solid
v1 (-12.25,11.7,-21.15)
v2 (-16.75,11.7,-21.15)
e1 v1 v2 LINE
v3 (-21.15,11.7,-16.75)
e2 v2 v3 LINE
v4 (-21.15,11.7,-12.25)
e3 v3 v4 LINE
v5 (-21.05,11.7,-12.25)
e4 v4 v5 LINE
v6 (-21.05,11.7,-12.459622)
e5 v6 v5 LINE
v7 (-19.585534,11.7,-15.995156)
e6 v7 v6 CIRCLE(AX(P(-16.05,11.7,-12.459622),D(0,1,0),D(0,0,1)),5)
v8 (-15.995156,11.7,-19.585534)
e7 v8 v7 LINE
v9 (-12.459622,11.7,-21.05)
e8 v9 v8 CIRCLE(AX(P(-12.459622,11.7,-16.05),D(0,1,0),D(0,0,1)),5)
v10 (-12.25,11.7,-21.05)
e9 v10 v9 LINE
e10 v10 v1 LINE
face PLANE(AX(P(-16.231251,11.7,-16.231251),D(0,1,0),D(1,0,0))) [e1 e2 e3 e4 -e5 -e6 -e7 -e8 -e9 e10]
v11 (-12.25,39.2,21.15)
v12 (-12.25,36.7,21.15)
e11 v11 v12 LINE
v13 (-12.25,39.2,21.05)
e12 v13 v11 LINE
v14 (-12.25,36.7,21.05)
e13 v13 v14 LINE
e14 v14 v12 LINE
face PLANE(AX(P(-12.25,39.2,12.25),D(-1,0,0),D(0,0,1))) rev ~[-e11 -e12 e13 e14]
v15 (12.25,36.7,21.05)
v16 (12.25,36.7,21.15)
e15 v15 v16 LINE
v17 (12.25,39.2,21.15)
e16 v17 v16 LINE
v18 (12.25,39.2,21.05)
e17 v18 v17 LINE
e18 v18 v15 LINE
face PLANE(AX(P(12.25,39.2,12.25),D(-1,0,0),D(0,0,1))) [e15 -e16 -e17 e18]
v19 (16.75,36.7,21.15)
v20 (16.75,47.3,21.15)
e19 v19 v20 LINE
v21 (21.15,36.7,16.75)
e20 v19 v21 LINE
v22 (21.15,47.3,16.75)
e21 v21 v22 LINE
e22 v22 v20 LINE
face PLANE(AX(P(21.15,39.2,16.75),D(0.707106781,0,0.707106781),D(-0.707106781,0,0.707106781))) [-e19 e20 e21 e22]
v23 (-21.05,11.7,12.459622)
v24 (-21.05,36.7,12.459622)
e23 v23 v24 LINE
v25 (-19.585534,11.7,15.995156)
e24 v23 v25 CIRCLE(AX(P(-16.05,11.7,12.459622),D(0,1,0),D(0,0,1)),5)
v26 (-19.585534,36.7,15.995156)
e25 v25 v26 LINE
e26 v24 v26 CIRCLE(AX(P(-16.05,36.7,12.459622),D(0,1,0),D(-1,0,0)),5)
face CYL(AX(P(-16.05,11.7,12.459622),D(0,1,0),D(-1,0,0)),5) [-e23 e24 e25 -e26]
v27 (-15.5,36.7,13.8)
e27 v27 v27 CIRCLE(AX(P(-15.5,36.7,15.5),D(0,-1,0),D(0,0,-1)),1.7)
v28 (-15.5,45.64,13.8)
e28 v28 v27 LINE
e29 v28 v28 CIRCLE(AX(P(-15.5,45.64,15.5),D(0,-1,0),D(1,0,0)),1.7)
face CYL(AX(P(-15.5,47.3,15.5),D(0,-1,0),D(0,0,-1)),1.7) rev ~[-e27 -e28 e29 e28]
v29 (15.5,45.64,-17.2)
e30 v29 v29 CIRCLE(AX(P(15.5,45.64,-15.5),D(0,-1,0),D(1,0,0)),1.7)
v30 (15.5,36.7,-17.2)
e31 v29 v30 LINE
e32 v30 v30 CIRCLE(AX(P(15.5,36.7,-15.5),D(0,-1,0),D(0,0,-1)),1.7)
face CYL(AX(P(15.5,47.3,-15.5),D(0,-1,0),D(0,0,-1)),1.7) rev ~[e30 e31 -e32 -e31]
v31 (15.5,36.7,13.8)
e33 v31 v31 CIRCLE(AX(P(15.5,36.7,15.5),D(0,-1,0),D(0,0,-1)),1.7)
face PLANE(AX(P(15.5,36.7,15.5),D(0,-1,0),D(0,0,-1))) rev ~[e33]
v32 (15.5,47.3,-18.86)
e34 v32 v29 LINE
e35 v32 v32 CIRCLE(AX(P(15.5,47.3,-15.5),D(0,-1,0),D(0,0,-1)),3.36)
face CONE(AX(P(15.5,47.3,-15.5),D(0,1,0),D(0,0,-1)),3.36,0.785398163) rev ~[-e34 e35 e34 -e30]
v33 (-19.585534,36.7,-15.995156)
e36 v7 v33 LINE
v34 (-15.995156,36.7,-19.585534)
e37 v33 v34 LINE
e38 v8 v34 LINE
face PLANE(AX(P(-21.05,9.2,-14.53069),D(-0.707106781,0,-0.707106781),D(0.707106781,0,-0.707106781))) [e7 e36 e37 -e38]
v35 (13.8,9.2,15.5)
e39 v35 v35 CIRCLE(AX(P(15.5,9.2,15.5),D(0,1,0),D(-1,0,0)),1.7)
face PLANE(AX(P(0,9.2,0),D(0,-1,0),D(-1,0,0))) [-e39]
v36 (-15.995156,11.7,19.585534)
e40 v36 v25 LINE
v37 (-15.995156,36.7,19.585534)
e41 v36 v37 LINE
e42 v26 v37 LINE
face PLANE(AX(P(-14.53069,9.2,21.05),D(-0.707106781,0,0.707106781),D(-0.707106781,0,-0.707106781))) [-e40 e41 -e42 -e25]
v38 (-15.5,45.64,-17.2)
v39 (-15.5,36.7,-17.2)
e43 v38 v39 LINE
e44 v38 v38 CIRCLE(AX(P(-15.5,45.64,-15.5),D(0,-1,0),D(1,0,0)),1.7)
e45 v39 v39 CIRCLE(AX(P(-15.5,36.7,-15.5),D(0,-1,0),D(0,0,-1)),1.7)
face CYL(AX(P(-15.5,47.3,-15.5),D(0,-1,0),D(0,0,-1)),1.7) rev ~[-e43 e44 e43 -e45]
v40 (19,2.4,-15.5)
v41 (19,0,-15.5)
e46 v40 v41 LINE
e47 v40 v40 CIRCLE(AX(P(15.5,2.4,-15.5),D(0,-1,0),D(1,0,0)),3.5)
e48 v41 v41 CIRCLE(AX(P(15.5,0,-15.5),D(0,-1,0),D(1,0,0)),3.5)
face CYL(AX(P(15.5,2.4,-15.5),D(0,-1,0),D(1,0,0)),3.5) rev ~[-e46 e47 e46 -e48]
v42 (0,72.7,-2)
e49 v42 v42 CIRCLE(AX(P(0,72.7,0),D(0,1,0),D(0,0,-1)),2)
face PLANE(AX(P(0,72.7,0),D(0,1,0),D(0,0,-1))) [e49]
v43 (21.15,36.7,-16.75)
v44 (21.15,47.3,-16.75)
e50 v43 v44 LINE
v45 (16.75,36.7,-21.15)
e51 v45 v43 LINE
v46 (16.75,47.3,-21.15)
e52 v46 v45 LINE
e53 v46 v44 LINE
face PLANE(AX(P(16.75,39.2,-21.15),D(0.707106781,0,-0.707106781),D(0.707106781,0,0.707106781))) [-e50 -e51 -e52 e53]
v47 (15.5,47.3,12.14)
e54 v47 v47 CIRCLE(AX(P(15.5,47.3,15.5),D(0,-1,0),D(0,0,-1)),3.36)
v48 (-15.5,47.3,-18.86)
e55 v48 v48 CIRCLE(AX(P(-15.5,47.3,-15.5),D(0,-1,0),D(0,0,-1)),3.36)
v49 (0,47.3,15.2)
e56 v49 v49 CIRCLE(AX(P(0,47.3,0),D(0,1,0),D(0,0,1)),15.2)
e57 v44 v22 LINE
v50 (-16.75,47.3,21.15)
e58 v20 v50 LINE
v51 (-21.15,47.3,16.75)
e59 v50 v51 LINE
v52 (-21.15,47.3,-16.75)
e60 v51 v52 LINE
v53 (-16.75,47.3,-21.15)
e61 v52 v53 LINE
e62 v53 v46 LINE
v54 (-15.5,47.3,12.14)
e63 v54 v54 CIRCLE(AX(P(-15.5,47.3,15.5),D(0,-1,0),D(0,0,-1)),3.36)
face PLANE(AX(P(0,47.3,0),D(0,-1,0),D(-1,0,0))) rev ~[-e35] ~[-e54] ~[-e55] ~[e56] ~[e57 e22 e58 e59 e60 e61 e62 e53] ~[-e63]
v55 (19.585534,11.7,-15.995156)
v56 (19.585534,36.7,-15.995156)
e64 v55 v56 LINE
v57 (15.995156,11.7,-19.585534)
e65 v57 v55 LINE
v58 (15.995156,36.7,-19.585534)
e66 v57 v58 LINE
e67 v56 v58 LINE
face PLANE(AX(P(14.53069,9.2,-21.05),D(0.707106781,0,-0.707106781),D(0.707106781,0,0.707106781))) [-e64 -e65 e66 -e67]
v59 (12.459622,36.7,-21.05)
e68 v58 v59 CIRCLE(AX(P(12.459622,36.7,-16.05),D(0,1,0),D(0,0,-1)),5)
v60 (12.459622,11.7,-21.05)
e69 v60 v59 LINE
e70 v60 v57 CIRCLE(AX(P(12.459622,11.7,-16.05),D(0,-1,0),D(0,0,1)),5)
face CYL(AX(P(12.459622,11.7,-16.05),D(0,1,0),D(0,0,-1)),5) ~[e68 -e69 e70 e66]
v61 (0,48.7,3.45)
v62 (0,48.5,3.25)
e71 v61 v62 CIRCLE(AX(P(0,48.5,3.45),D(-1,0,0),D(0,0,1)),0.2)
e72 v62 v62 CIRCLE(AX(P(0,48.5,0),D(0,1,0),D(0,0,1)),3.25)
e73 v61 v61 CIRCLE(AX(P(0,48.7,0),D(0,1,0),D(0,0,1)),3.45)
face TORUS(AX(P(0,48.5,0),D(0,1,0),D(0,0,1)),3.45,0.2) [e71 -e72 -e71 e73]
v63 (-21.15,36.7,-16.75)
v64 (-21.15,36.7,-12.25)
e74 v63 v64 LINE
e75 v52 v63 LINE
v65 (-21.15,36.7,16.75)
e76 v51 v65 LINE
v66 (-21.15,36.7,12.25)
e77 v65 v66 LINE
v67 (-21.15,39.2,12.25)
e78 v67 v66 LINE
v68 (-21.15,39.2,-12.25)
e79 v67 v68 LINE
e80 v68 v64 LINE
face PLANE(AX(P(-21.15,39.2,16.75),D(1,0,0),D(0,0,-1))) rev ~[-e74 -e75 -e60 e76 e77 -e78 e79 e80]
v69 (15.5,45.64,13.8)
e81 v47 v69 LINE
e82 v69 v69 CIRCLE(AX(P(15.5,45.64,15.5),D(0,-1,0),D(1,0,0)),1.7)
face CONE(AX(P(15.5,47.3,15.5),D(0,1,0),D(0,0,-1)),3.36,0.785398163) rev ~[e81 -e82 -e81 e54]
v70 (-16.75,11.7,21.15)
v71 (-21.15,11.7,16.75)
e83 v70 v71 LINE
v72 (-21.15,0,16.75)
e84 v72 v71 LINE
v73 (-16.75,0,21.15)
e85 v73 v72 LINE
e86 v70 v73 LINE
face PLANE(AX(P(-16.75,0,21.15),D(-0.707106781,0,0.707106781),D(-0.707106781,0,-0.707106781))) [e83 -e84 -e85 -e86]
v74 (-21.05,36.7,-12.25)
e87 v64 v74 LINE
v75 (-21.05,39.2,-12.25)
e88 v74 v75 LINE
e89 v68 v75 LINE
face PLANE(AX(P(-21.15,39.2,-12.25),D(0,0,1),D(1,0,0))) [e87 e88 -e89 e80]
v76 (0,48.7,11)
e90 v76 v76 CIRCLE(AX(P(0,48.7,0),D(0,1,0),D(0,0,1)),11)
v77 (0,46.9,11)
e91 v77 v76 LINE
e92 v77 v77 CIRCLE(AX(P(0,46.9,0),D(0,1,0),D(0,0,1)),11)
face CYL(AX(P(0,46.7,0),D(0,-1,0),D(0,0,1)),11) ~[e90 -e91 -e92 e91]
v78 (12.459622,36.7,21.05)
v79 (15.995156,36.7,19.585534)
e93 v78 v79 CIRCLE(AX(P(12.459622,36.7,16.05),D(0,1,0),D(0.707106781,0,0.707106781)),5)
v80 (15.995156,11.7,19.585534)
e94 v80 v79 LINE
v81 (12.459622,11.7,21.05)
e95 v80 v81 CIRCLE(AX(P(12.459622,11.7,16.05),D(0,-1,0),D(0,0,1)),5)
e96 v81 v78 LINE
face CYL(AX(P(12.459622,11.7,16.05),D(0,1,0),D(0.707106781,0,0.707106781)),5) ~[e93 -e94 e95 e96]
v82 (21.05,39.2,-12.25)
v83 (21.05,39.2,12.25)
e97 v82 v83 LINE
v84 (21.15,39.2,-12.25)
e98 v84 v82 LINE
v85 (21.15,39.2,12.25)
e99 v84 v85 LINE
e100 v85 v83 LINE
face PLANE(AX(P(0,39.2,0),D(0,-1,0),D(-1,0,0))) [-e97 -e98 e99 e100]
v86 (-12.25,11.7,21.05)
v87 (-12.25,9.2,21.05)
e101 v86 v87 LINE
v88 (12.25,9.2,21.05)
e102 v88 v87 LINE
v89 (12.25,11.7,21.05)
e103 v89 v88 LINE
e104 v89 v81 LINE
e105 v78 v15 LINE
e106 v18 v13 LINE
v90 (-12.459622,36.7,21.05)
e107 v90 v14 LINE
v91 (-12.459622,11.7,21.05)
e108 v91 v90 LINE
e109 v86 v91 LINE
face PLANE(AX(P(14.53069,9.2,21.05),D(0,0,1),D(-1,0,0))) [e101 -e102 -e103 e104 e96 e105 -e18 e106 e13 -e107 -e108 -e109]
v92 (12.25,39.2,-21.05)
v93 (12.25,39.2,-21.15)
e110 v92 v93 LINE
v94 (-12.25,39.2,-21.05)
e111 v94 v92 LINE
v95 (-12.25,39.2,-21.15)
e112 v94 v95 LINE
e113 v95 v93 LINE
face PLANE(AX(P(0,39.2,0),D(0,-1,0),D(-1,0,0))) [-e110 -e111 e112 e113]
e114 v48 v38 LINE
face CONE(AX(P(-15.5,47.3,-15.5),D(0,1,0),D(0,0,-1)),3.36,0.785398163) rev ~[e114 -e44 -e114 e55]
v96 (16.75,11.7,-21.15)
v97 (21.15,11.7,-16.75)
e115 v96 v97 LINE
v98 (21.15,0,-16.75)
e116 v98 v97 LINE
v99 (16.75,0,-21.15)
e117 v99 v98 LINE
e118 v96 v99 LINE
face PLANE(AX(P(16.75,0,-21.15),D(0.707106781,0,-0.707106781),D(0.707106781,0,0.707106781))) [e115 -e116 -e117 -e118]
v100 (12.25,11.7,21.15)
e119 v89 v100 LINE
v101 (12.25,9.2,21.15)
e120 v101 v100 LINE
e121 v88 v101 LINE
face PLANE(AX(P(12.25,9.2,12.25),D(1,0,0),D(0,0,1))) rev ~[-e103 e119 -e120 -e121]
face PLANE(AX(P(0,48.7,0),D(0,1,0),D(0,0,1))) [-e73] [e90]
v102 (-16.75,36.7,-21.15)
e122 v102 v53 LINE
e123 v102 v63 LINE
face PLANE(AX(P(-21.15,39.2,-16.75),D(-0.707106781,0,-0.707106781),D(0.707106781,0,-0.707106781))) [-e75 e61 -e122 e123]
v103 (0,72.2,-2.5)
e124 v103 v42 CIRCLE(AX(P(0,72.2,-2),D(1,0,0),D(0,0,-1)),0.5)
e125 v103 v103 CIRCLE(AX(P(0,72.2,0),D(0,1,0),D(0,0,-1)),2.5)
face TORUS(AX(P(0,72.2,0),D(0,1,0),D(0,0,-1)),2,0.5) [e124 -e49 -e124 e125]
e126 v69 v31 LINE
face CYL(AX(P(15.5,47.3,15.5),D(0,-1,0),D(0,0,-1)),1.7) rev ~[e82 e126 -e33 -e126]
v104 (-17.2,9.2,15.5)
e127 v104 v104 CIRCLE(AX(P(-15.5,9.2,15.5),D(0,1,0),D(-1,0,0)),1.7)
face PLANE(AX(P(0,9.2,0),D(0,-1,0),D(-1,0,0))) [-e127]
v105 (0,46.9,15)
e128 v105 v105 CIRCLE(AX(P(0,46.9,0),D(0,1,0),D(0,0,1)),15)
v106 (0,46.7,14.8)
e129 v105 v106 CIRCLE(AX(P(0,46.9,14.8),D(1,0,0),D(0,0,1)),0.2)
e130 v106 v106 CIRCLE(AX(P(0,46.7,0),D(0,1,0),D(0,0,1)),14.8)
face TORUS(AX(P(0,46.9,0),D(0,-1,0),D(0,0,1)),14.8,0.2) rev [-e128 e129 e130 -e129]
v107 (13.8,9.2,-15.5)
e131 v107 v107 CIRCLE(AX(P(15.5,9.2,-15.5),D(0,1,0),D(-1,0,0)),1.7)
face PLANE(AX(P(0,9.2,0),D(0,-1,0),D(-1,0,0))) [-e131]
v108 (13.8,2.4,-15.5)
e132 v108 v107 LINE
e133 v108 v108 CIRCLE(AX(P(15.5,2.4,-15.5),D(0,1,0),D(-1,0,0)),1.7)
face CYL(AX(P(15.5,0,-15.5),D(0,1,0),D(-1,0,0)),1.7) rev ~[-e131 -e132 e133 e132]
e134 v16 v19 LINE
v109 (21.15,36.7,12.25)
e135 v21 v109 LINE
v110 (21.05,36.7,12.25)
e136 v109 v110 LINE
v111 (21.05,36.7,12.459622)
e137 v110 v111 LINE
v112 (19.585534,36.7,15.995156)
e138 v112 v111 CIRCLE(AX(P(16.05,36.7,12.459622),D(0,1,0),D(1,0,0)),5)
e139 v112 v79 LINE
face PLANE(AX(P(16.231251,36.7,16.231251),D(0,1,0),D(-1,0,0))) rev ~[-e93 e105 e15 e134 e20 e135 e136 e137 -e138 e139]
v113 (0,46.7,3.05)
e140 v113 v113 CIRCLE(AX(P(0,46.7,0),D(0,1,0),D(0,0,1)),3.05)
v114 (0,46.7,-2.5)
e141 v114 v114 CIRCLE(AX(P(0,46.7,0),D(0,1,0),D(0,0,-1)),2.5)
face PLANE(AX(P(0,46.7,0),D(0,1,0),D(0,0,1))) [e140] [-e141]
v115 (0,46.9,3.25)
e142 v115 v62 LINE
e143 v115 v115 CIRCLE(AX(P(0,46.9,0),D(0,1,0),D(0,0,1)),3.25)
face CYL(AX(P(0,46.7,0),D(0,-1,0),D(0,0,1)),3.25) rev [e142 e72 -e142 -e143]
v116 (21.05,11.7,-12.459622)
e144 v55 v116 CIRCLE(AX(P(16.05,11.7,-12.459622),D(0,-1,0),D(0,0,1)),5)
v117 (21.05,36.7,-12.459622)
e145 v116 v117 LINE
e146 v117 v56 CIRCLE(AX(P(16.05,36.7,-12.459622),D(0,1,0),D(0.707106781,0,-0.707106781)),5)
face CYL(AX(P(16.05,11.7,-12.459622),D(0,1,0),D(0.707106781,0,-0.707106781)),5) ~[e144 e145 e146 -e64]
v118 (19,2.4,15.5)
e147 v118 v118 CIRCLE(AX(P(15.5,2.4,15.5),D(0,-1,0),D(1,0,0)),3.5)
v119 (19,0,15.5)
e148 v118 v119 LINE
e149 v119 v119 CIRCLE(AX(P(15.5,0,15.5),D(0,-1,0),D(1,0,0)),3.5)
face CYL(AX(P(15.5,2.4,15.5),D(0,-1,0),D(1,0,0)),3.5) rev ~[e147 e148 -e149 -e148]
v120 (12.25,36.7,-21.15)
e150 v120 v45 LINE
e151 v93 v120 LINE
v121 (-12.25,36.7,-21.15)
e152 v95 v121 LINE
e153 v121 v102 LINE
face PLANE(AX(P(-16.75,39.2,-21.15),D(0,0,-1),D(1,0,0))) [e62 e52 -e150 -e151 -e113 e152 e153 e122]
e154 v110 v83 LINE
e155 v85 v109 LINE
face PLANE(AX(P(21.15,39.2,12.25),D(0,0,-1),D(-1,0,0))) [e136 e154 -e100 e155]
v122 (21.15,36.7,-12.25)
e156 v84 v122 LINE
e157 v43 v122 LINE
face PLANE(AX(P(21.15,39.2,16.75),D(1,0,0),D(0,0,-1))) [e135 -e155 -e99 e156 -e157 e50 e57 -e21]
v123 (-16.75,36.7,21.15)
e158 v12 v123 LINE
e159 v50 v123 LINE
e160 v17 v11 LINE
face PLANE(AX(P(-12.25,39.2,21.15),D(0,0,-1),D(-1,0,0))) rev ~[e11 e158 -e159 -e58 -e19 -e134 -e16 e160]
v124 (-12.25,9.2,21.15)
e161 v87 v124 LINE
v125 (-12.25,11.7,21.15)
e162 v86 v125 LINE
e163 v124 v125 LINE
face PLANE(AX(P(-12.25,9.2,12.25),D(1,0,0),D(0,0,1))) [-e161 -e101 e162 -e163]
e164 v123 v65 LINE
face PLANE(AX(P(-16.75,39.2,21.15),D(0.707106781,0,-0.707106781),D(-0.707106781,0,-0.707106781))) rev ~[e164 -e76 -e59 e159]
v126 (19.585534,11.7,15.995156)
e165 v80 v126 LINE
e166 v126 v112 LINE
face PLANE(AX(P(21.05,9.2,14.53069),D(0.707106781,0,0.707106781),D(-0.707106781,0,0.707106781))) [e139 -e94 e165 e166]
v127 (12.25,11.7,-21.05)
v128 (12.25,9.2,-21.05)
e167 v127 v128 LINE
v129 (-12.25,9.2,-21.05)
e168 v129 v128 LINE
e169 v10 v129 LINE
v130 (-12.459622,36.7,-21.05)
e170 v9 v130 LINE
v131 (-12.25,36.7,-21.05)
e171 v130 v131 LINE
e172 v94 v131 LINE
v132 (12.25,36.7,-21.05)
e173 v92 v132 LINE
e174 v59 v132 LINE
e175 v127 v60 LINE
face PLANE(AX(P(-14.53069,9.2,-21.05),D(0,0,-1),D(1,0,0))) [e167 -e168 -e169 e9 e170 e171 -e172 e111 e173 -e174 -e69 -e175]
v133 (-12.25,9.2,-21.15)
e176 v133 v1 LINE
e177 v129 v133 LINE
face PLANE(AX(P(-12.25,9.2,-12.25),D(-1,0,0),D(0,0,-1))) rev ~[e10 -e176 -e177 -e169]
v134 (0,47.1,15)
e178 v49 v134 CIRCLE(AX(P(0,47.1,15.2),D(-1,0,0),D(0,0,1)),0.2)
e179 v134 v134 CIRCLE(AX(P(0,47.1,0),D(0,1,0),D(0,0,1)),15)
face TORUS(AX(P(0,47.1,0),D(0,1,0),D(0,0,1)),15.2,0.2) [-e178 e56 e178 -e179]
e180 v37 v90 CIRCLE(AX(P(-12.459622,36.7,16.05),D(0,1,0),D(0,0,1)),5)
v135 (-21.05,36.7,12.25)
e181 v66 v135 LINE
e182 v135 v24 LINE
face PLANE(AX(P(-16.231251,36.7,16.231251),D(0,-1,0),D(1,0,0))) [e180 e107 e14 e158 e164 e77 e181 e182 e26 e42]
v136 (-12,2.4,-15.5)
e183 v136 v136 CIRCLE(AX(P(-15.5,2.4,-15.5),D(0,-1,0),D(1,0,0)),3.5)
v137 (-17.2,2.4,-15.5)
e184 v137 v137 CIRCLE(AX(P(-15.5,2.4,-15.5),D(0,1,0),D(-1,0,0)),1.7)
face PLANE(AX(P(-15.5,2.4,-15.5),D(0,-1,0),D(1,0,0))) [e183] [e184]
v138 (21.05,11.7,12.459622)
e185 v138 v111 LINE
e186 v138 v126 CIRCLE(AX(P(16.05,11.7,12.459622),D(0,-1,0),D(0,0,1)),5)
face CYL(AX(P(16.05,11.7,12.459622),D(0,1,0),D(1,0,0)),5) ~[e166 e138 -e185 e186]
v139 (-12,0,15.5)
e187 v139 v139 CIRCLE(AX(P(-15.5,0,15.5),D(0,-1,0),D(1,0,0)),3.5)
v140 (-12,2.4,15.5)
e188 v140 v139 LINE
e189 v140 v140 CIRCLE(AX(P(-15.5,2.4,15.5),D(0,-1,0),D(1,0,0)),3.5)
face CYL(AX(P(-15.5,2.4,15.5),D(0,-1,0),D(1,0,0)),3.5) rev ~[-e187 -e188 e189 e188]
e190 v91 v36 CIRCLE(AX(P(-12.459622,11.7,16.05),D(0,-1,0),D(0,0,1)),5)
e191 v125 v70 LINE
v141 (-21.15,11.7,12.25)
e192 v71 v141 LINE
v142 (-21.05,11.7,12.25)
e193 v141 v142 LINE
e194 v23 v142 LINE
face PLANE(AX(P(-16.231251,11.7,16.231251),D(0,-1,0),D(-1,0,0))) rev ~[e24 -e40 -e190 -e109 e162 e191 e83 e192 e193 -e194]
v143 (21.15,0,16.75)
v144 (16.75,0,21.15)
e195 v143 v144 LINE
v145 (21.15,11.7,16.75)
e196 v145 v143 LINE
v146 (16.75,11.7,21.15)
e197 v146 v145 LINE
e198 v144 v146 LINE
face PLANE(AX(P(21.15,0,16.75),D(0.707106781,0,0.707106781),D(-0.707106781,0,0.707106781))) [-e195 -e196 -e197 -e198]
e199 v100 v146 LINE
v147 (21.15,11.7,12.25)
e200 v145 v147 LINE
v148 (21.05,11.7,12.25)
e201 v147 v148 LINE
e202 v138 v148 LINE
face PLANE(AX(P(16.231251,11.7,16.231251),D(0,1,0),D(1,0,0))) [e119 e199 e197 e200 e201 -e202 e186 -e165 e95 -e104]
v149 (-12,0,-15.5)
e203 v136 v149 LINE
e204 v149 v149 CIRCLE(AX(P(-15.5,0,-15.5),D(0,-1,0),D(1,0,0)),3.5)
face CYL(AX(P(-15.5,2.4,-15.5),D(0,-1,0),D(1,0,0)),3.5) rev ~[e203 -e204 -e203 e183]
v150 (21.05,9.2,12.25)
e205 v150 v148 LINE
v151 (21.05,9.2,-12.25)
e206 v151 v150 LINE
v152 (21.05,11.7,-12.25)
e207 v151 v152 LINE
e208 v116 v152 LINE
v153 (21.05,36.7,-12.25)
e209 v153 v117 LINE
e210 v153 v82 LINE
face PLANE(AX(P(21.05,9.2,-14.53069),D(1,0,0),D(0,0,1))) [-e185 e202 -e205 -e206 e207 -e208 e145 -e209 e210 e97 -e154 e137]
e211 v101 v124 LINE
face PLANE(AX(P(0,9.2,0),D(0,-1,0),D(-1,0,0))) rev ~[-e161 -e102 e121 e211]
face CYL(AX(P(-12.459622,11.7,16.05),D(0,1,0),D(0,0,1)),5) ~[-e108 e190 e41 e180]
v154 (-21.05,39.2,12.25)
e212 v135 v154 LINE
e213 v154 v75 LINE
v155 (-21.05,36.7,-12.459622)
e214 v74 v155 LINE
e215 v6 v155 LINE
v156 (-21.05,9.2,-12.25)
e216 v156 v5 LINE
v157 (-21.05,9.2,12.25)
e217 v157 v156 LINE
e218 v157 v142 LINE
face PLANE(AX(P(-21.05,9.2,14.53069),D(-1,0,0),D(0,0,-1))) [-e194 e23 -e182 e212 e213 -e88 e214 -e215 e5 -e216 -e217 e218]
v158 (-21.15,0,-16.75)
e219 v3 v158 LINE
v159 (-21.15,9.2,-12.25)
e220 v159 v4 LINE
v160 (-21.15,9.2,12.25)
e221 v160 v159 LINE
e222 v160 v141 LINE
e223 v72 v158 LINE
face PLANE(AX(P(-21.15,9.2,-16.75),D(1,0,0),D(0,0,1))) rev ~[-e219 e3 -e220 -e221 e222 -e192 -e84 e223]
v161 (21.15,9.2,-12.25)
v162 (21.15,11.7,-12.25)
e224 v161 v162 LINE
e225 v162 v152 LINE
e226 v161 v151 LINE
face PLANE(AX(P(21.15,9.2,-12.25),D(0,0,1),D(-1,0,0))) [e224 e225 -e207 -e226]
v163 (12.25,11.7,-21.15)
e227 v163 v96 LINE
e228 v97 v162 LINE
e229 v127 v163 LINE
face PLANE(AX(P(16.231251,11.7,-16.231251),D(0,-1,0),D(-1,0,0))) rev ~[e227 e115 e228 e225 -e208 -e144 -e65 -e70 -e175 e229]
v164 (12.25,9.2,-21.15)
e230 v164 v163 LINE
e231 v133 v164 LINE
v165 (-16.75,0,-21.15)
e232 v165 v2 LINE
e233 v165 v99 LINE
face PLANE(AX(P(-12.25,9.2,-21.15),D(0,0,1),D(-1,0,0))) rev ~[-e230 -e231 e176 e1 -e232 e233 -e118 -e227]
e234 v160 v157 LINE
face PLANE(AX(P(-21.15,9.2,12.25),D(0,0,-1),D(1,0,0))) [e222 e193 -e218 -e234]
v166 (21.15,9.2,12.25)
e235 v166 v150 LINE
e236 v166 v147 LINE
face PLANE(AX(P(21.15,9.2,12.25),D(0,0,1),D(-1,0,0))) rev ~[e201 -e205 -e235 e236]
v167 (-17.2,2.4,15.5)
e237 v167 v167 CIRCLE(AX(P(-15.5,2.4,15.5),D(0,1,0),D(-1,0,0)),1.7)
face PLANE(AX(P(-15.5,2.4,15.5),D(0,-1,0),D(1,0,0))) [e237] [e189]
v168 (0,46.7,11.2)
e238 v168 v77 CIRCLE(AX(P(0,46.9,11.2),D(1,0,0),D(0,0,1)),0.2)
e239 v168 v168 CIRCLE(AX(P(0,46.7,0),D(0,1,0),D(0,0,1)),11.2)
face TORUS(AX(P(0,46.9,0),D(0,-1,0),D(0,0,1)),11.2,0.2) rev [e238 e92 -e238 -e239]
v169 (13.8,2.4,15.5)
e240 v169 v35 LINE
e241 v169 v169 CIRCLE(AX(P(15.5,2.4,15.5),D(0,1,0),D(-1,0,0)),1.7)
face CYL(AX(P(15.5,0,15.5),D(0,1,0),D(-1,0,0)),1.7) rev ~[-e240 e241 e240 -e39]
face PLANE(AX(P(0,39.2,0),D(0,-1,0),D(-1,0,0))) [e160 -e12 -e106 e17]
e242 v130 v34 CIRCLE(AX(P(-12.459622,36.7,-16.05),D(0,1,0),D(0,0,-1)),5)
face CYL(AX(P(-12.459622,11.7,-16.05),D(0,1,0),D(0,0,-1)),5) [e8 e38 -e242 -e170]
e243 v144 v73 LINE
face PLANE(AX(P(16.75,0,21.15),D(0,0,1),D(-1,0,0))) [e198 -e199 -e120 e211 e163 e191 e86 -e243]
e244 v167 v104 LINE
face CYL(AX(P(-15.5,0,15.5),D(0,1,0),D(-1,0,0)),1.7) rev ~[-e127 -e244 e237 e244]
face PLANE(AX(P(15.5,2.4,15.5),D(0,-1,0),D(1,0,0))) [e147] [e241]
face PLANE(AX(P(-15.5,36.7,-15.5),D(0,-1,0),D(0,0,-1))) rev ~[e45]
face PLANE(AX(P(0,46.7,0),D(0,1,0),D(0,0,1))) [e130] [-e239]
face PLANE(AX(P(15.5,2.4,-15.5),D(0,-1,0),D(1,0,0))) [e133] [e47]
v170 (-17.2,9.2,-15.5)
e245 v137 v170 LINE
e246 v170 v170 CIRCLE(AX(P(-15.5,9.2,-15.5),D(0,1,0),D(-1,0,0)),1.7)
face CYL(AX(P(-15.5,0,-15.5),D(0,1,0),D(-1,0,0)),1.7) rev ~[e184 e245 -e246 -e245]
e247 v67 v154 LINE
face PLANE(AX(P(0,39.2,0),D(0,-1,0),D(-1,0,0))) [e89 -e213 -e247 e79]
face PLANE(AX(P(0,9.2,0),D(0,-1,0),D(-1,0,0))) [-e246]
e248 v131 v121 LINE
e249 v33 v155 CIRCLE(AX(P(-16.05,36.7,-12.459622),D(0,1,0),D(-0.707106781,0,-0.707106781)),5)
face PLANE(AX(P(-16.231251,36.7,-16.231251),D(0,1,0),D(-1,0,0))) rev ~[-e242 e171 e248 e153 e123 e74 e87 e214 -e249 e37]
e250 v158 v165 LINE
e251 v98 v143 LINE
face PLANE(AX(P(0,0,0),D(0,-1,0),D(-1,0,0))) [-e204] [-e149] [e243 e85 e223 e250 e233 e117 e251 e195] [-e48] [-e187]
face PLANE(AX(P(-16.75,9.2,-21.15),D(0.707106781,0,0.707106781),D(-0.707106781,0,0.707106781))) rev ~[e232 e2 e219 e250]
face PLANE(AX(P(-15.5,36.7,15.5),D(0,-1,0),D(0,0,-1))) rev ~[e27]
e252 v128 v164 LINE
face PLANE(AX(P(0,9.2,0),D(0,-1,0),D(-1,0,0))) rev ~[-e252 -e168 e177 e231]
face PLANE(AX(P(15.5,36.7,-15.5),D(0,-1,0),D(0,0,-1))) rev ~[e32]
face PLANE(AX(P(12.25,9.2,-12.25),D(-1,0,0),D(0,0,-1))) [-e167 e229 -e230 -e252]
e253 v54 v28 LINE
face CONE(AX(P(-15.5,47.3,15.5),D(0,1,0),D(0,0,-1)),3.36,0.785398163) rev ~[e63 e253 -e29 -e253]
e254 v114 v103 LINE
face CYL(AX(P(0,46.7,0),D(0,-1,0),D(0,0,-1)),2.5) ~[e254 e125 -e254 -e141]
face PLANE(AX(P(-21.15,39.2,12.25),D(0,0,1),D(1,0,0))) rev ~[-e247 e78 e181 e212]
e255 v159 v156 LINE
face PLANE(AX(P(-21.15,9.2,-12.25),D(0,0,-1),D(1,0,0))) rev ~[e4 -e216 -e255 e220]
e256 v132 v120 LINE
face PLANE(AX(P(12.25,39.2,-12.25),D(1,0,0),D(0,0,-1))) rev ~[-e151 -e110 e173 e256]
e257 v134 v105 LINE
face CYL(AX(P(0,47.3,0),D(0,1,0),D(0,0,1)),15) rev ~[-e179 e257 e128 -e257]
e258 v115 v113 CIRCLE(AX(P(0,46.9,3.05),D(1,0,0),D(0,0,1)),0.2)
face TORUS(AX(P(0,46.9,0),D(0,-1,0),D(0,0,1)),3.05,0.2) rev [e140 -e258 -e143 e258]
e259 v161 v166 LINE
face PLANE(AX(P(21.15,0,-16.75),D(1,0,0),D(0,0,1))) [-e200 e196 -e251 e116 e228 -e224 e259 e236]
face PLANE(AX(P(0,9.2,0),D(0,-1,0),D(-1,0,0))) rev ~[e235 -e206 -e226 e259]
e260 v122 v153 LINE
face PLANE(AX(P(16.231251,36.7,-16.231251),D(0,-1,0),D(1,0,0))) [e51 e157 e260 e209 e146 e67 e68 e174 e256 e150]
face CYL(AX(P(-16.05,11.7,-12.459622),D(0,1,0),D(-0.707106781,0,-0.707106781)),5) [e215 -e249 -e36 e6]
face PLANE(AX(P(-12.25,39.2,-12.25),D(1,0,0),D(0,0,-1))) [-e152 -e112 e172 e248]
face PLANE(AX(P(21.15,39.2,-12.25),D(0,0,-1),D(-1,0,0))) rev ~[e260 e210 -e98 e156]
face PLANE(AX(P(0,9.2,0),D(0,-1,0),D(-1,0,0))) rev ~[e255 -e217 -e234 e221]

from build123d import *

# Parameters (mm, degrees)
SALIENTE_EXTRUIR1_DEPTH                              = 9.2
SALIENTE_EXTRUIR2_DEPTH                              = 2.5
REFRENTADO_PARA_TORNILLO_CON_CABEZA_TRON_D           = 3.4
REFRENTADO_PARA_TORNILLO_CON_CABEZA_TRON_CBORE_D     = 7
REFRENTADO_PARA_TORNILLO_CON_CABEZA_TRON_CBORE_DEPTH = 2.4
SALIENTE_EXTRUIR3_DEPTH                              = 30
REDONDEO1_R                                          = 5
SALIENTE_EXTRUIR4_DEPTH                              = 8.1
SALIENTE_EXTRUIR5_DEPTH                              = 2.5
REFRENTADO_PARA_TORNILLO_TAP_N_CON_CABEZ_D           = 3.4
REFRENTADO_PARA_TORNILLO_TAP_N_CON_CABEZ_DEPTH       = 10.6
REFRENTADO_PARA_TORNILLO_TAP_N_CON_CABEZ_CSINK_D     = 6.72
REFRENTADO_PARA_TORNILLO_TAP_N_CON_CABEZ_CSINK_ANGLE = 90
CROQUIS14_R                                          = 15
CORTAR_EXTRUIR1_DEPTH                                = 0.6
CROQUIS15_R                                          = 11
CROQUIS15_R_2                                        = 3.25
SALIENTE_EXTRUIR6_DEPTH                              = 2
REDONDEO2_R                                          = 0.2
CROQUIS16_R                                          = 2.5
SALIENTE_EXTRUIR7_DEPTH                              = 26
REDONDEO3_R                                          = 0.5


with BuildPart() as part:
    # Croquis1 → Saliente-Extruir1 (new body)
    with BuildSketch(Plane(origin=(0, 0, 0), x_dir=(1, 0, 0), z_dir=(0, 1, 0))):
        Polygon((-16.75, 21.15), (16.75, 21.15), (21.15, 16.75), (21.15, -16.75), (16.75, -21.15), (-16.75, -21.15), (-21.15, -16.75), (-21.15, 16.75), align=None)
    extrude(amount=SALIENTE_EXTRUIR1_DEPTH)

    # Croquis2 → Saliente-Extruir2 (add)
    with BuildSketch(Plane(origin=(0, 9.2, 0), x_dir=(1, 0, 0), z_dir=(0, 1, 0))):
        Polygon((-12.25, 12.25), (-12.25, 21.15), (-16.75, 21.15), (-21.15, 16.75), (-21.15, 12.25), align=None)
        Polygon((12.25, 21.15), (16.75, 21.15), (21.15, 16.75), (21.15, 12.25), (12.25, 12.25), align=None)
        Polygon((12.25, -12.25), (12.25, -21.15), (16.75, -21.15), (21.15, -16.75), (21.15, -12.25), align=None)
        Polygon((-12.25, -21.15), (-16.75, -21.15), (-21.15, -16.75), (-21.15, -12.25), (-12.25, -12.25), align=None)
    extrude(amount=SALIENTE_EXTRUIR2_DEPTH)

    # Refrentado para tornillo con cabeza troncocónica de M31 (through all)
    with Locations(Plane.XZ):
        with Locations((15.5, 15.5), (15.5, -15.5), (-15.5, 15.5), (-15.5, -15.5)):
            CounterBoreHole(REFRENTADO_PARA_TORNILLO_CON_CABEZA_TRON_D / 2, REFRENTADO_PARA_TORNILLO_CON_CABEZA_TRON_CBORE_D / 2, REFRENTADO_PARA_TORNILLO_CON_CABEZA_TRON_CBORE_DEPTH)

    # Croquis5 → Saliente-Extruir3 (add)
    with BuildSketch(Plane(origin=(0, 9.2, 0), x_dir=(1, 0, 0), z_dir=(0, 1, 0))):
        Polygon((-14.530689758, 21.05), (14.530689758, 21.05), (21.05, 14.530689758), (21.05, -14.530689758), (14.530689758, -21.05), (-14.530689758, -21.05), (-21.05, -14.530689758), (-21.05, 14.530689758), align=None)
    extrude(amount=SALIENTE_EXTRUIR3_DEPTH)

    # Redondeo1
    redondeo1_edges = [part.edges().sort_by_distance(p)[0] for p in [
        (21.05, 25.45, -14.530689758),
        (14.530689758, 25.45, -21.05),
        (21.05, 25.45, 14.530689758),
        (-21.05, 25.45, -14.530689758),
        (-21.05, 25.45, 14.530689758),
        (-14.530689758, 25.45, 21.05),
        (-14.530689758, 25.45, -21.05),
        (14.530689758, 25.45, 21.05),
    ]]
    fillet(redondeo1_edges, radius=REDONDEO1_R)

    # Croquis7 → Saliente-Extruir4 (add)
    with BuildSketch(Plane(origin=(0, 39.2, 0), x_dir=(1, 0, 0), z_dir=(0, 1, 0))):
        Polygon((-16.75, 21.15), (16.75, 21.15), (21.15, 16.75), (21.15, -16.75), (16.75, -21.15), (-16.75, -21.15), (-21.15, -16.75), (-21.15, 16.75), align=None)
    extrude(amount=SALIENTE_EXTRUIR4_DEPTH)

    # Croquis9 → Saliente-Extruir5 (add)
    with BuildSketch(Plane.XZ.offset(-39.2)):
        Polygon((-12.25, 12.25), (-12.25, 21.15), (-16.75, 21.15), (-21.15, 16.75), (-21.15, 12.25), align=None)
        Polygon((12.25, 21.15), (16.75, 21.15), (21.15, 16.75), (21.15, 12.25), (12.25, 12.25), align=None)
        Polygon((12.25, -12.25), (12.25, -21.15), (16.75, -21.15), (21.15, -16.75), (21.15, -12.25), align=None)
        Polygon((-12.25, -21.15), (-16.75, -21.15), (-21.15, -16.75), (-21.15, -12.25), (-12.25, -12.25), align=None)
    extrude(amount=SALIENTE_EXTRUIR5_DEPTH)

    # Refrentado para tornillo tapón con cabeza plana de clavija de M31
    with Locations(Plane(origin=(-15.5, 47.3, -15.5), x_dir=(0, 0, 1), z_dir=(0, 1, 0))):
        with Locations((0, 0), (0, 31), (31, 31), (31, 0)):
            CounterSinkHole(REFRENTADO_PARA_TORNILLO_TAP_N_CON_CABEZ_D / 2, REFRENTADO_PARA_TORNILLO_TAP_N_CON_CABEZ_CSINK_D / 2, depth=REFRENTADO_PARA_TORNILLO_TAP_N_CON_CABEZ_DEPTH, counter_sink_angle=REFRENTADO_PARA_TORNILLO_TAP_N_CON_CABEZ_CSINK_ANGLE)

    # Croquis14 → Cortar-Extruir1 (cut)
    with BuildSketch(Plane(origin=(0, 47.3, 0), x_dir=(1, 0, 0), z_dir=(0, 1, 0))):
        with Locations(Location((0, 0, 0), (0, 0, 270))):
            Circle(CROQUIS14_R)
    extrude(amount=-CORTAR_EXTRUIR1_DEPTH, mode=Mode.SUBTRACT)

    # Croquis15 → Saliente-Extruir6 (add)
    with BuildSketch(Plane(origin=(0, 46.7, 0), x_dir=(1, 0, 0), z_dir=(0, 1, 0))):
        with Locations(Location((0, 0, 0), (0, 0, 270))):
            Circle(CROQUIS15_R)
        with Locations(Location((0, 0, 0), (0, 0, 270))):
            Circle(CROQUIS15_R_2, mode=Mode.SUBTRACT)
    extrude(amount=SALIENTE_EXTRUIR6_DEPTH)

    # Redondeo2
    redondeo2_edges = [part.edges().sort_by_distance(p)[0] for p in [
        (0, 46.7, -15),
        (0, 47.3, -15),
        (0, 46.7, -3.25),
        (0, 46.7, -11),
        (0, 48.7, -3.25),
    ]]
    fillet(redondeo2_edges, radius=REDONDEO2_R)

    # Croquis16 → Saliente-Extruir7 (add)
    with BuildSketch(Plane(origin=(0, 46.7, 0), x_dir=(1, 0, 0), z_dir=(0, 1, 0))):
        with Locations(Location((0, 0, 0), (0, 0, 90))):
            Circle(CROQUIS16_R)
    extrude(amount=SALIENTE_EXTRUIR7_DEPTH)

    # Redondeo3
    redondeo3_edges = [part.edges().sort_by_distance(p)[0] for p in [
        (0, 72.7, 2.5),
    ]]
    fillet(redondeo3_edges, radius=REDONDEO3_R)


solid = part.part
